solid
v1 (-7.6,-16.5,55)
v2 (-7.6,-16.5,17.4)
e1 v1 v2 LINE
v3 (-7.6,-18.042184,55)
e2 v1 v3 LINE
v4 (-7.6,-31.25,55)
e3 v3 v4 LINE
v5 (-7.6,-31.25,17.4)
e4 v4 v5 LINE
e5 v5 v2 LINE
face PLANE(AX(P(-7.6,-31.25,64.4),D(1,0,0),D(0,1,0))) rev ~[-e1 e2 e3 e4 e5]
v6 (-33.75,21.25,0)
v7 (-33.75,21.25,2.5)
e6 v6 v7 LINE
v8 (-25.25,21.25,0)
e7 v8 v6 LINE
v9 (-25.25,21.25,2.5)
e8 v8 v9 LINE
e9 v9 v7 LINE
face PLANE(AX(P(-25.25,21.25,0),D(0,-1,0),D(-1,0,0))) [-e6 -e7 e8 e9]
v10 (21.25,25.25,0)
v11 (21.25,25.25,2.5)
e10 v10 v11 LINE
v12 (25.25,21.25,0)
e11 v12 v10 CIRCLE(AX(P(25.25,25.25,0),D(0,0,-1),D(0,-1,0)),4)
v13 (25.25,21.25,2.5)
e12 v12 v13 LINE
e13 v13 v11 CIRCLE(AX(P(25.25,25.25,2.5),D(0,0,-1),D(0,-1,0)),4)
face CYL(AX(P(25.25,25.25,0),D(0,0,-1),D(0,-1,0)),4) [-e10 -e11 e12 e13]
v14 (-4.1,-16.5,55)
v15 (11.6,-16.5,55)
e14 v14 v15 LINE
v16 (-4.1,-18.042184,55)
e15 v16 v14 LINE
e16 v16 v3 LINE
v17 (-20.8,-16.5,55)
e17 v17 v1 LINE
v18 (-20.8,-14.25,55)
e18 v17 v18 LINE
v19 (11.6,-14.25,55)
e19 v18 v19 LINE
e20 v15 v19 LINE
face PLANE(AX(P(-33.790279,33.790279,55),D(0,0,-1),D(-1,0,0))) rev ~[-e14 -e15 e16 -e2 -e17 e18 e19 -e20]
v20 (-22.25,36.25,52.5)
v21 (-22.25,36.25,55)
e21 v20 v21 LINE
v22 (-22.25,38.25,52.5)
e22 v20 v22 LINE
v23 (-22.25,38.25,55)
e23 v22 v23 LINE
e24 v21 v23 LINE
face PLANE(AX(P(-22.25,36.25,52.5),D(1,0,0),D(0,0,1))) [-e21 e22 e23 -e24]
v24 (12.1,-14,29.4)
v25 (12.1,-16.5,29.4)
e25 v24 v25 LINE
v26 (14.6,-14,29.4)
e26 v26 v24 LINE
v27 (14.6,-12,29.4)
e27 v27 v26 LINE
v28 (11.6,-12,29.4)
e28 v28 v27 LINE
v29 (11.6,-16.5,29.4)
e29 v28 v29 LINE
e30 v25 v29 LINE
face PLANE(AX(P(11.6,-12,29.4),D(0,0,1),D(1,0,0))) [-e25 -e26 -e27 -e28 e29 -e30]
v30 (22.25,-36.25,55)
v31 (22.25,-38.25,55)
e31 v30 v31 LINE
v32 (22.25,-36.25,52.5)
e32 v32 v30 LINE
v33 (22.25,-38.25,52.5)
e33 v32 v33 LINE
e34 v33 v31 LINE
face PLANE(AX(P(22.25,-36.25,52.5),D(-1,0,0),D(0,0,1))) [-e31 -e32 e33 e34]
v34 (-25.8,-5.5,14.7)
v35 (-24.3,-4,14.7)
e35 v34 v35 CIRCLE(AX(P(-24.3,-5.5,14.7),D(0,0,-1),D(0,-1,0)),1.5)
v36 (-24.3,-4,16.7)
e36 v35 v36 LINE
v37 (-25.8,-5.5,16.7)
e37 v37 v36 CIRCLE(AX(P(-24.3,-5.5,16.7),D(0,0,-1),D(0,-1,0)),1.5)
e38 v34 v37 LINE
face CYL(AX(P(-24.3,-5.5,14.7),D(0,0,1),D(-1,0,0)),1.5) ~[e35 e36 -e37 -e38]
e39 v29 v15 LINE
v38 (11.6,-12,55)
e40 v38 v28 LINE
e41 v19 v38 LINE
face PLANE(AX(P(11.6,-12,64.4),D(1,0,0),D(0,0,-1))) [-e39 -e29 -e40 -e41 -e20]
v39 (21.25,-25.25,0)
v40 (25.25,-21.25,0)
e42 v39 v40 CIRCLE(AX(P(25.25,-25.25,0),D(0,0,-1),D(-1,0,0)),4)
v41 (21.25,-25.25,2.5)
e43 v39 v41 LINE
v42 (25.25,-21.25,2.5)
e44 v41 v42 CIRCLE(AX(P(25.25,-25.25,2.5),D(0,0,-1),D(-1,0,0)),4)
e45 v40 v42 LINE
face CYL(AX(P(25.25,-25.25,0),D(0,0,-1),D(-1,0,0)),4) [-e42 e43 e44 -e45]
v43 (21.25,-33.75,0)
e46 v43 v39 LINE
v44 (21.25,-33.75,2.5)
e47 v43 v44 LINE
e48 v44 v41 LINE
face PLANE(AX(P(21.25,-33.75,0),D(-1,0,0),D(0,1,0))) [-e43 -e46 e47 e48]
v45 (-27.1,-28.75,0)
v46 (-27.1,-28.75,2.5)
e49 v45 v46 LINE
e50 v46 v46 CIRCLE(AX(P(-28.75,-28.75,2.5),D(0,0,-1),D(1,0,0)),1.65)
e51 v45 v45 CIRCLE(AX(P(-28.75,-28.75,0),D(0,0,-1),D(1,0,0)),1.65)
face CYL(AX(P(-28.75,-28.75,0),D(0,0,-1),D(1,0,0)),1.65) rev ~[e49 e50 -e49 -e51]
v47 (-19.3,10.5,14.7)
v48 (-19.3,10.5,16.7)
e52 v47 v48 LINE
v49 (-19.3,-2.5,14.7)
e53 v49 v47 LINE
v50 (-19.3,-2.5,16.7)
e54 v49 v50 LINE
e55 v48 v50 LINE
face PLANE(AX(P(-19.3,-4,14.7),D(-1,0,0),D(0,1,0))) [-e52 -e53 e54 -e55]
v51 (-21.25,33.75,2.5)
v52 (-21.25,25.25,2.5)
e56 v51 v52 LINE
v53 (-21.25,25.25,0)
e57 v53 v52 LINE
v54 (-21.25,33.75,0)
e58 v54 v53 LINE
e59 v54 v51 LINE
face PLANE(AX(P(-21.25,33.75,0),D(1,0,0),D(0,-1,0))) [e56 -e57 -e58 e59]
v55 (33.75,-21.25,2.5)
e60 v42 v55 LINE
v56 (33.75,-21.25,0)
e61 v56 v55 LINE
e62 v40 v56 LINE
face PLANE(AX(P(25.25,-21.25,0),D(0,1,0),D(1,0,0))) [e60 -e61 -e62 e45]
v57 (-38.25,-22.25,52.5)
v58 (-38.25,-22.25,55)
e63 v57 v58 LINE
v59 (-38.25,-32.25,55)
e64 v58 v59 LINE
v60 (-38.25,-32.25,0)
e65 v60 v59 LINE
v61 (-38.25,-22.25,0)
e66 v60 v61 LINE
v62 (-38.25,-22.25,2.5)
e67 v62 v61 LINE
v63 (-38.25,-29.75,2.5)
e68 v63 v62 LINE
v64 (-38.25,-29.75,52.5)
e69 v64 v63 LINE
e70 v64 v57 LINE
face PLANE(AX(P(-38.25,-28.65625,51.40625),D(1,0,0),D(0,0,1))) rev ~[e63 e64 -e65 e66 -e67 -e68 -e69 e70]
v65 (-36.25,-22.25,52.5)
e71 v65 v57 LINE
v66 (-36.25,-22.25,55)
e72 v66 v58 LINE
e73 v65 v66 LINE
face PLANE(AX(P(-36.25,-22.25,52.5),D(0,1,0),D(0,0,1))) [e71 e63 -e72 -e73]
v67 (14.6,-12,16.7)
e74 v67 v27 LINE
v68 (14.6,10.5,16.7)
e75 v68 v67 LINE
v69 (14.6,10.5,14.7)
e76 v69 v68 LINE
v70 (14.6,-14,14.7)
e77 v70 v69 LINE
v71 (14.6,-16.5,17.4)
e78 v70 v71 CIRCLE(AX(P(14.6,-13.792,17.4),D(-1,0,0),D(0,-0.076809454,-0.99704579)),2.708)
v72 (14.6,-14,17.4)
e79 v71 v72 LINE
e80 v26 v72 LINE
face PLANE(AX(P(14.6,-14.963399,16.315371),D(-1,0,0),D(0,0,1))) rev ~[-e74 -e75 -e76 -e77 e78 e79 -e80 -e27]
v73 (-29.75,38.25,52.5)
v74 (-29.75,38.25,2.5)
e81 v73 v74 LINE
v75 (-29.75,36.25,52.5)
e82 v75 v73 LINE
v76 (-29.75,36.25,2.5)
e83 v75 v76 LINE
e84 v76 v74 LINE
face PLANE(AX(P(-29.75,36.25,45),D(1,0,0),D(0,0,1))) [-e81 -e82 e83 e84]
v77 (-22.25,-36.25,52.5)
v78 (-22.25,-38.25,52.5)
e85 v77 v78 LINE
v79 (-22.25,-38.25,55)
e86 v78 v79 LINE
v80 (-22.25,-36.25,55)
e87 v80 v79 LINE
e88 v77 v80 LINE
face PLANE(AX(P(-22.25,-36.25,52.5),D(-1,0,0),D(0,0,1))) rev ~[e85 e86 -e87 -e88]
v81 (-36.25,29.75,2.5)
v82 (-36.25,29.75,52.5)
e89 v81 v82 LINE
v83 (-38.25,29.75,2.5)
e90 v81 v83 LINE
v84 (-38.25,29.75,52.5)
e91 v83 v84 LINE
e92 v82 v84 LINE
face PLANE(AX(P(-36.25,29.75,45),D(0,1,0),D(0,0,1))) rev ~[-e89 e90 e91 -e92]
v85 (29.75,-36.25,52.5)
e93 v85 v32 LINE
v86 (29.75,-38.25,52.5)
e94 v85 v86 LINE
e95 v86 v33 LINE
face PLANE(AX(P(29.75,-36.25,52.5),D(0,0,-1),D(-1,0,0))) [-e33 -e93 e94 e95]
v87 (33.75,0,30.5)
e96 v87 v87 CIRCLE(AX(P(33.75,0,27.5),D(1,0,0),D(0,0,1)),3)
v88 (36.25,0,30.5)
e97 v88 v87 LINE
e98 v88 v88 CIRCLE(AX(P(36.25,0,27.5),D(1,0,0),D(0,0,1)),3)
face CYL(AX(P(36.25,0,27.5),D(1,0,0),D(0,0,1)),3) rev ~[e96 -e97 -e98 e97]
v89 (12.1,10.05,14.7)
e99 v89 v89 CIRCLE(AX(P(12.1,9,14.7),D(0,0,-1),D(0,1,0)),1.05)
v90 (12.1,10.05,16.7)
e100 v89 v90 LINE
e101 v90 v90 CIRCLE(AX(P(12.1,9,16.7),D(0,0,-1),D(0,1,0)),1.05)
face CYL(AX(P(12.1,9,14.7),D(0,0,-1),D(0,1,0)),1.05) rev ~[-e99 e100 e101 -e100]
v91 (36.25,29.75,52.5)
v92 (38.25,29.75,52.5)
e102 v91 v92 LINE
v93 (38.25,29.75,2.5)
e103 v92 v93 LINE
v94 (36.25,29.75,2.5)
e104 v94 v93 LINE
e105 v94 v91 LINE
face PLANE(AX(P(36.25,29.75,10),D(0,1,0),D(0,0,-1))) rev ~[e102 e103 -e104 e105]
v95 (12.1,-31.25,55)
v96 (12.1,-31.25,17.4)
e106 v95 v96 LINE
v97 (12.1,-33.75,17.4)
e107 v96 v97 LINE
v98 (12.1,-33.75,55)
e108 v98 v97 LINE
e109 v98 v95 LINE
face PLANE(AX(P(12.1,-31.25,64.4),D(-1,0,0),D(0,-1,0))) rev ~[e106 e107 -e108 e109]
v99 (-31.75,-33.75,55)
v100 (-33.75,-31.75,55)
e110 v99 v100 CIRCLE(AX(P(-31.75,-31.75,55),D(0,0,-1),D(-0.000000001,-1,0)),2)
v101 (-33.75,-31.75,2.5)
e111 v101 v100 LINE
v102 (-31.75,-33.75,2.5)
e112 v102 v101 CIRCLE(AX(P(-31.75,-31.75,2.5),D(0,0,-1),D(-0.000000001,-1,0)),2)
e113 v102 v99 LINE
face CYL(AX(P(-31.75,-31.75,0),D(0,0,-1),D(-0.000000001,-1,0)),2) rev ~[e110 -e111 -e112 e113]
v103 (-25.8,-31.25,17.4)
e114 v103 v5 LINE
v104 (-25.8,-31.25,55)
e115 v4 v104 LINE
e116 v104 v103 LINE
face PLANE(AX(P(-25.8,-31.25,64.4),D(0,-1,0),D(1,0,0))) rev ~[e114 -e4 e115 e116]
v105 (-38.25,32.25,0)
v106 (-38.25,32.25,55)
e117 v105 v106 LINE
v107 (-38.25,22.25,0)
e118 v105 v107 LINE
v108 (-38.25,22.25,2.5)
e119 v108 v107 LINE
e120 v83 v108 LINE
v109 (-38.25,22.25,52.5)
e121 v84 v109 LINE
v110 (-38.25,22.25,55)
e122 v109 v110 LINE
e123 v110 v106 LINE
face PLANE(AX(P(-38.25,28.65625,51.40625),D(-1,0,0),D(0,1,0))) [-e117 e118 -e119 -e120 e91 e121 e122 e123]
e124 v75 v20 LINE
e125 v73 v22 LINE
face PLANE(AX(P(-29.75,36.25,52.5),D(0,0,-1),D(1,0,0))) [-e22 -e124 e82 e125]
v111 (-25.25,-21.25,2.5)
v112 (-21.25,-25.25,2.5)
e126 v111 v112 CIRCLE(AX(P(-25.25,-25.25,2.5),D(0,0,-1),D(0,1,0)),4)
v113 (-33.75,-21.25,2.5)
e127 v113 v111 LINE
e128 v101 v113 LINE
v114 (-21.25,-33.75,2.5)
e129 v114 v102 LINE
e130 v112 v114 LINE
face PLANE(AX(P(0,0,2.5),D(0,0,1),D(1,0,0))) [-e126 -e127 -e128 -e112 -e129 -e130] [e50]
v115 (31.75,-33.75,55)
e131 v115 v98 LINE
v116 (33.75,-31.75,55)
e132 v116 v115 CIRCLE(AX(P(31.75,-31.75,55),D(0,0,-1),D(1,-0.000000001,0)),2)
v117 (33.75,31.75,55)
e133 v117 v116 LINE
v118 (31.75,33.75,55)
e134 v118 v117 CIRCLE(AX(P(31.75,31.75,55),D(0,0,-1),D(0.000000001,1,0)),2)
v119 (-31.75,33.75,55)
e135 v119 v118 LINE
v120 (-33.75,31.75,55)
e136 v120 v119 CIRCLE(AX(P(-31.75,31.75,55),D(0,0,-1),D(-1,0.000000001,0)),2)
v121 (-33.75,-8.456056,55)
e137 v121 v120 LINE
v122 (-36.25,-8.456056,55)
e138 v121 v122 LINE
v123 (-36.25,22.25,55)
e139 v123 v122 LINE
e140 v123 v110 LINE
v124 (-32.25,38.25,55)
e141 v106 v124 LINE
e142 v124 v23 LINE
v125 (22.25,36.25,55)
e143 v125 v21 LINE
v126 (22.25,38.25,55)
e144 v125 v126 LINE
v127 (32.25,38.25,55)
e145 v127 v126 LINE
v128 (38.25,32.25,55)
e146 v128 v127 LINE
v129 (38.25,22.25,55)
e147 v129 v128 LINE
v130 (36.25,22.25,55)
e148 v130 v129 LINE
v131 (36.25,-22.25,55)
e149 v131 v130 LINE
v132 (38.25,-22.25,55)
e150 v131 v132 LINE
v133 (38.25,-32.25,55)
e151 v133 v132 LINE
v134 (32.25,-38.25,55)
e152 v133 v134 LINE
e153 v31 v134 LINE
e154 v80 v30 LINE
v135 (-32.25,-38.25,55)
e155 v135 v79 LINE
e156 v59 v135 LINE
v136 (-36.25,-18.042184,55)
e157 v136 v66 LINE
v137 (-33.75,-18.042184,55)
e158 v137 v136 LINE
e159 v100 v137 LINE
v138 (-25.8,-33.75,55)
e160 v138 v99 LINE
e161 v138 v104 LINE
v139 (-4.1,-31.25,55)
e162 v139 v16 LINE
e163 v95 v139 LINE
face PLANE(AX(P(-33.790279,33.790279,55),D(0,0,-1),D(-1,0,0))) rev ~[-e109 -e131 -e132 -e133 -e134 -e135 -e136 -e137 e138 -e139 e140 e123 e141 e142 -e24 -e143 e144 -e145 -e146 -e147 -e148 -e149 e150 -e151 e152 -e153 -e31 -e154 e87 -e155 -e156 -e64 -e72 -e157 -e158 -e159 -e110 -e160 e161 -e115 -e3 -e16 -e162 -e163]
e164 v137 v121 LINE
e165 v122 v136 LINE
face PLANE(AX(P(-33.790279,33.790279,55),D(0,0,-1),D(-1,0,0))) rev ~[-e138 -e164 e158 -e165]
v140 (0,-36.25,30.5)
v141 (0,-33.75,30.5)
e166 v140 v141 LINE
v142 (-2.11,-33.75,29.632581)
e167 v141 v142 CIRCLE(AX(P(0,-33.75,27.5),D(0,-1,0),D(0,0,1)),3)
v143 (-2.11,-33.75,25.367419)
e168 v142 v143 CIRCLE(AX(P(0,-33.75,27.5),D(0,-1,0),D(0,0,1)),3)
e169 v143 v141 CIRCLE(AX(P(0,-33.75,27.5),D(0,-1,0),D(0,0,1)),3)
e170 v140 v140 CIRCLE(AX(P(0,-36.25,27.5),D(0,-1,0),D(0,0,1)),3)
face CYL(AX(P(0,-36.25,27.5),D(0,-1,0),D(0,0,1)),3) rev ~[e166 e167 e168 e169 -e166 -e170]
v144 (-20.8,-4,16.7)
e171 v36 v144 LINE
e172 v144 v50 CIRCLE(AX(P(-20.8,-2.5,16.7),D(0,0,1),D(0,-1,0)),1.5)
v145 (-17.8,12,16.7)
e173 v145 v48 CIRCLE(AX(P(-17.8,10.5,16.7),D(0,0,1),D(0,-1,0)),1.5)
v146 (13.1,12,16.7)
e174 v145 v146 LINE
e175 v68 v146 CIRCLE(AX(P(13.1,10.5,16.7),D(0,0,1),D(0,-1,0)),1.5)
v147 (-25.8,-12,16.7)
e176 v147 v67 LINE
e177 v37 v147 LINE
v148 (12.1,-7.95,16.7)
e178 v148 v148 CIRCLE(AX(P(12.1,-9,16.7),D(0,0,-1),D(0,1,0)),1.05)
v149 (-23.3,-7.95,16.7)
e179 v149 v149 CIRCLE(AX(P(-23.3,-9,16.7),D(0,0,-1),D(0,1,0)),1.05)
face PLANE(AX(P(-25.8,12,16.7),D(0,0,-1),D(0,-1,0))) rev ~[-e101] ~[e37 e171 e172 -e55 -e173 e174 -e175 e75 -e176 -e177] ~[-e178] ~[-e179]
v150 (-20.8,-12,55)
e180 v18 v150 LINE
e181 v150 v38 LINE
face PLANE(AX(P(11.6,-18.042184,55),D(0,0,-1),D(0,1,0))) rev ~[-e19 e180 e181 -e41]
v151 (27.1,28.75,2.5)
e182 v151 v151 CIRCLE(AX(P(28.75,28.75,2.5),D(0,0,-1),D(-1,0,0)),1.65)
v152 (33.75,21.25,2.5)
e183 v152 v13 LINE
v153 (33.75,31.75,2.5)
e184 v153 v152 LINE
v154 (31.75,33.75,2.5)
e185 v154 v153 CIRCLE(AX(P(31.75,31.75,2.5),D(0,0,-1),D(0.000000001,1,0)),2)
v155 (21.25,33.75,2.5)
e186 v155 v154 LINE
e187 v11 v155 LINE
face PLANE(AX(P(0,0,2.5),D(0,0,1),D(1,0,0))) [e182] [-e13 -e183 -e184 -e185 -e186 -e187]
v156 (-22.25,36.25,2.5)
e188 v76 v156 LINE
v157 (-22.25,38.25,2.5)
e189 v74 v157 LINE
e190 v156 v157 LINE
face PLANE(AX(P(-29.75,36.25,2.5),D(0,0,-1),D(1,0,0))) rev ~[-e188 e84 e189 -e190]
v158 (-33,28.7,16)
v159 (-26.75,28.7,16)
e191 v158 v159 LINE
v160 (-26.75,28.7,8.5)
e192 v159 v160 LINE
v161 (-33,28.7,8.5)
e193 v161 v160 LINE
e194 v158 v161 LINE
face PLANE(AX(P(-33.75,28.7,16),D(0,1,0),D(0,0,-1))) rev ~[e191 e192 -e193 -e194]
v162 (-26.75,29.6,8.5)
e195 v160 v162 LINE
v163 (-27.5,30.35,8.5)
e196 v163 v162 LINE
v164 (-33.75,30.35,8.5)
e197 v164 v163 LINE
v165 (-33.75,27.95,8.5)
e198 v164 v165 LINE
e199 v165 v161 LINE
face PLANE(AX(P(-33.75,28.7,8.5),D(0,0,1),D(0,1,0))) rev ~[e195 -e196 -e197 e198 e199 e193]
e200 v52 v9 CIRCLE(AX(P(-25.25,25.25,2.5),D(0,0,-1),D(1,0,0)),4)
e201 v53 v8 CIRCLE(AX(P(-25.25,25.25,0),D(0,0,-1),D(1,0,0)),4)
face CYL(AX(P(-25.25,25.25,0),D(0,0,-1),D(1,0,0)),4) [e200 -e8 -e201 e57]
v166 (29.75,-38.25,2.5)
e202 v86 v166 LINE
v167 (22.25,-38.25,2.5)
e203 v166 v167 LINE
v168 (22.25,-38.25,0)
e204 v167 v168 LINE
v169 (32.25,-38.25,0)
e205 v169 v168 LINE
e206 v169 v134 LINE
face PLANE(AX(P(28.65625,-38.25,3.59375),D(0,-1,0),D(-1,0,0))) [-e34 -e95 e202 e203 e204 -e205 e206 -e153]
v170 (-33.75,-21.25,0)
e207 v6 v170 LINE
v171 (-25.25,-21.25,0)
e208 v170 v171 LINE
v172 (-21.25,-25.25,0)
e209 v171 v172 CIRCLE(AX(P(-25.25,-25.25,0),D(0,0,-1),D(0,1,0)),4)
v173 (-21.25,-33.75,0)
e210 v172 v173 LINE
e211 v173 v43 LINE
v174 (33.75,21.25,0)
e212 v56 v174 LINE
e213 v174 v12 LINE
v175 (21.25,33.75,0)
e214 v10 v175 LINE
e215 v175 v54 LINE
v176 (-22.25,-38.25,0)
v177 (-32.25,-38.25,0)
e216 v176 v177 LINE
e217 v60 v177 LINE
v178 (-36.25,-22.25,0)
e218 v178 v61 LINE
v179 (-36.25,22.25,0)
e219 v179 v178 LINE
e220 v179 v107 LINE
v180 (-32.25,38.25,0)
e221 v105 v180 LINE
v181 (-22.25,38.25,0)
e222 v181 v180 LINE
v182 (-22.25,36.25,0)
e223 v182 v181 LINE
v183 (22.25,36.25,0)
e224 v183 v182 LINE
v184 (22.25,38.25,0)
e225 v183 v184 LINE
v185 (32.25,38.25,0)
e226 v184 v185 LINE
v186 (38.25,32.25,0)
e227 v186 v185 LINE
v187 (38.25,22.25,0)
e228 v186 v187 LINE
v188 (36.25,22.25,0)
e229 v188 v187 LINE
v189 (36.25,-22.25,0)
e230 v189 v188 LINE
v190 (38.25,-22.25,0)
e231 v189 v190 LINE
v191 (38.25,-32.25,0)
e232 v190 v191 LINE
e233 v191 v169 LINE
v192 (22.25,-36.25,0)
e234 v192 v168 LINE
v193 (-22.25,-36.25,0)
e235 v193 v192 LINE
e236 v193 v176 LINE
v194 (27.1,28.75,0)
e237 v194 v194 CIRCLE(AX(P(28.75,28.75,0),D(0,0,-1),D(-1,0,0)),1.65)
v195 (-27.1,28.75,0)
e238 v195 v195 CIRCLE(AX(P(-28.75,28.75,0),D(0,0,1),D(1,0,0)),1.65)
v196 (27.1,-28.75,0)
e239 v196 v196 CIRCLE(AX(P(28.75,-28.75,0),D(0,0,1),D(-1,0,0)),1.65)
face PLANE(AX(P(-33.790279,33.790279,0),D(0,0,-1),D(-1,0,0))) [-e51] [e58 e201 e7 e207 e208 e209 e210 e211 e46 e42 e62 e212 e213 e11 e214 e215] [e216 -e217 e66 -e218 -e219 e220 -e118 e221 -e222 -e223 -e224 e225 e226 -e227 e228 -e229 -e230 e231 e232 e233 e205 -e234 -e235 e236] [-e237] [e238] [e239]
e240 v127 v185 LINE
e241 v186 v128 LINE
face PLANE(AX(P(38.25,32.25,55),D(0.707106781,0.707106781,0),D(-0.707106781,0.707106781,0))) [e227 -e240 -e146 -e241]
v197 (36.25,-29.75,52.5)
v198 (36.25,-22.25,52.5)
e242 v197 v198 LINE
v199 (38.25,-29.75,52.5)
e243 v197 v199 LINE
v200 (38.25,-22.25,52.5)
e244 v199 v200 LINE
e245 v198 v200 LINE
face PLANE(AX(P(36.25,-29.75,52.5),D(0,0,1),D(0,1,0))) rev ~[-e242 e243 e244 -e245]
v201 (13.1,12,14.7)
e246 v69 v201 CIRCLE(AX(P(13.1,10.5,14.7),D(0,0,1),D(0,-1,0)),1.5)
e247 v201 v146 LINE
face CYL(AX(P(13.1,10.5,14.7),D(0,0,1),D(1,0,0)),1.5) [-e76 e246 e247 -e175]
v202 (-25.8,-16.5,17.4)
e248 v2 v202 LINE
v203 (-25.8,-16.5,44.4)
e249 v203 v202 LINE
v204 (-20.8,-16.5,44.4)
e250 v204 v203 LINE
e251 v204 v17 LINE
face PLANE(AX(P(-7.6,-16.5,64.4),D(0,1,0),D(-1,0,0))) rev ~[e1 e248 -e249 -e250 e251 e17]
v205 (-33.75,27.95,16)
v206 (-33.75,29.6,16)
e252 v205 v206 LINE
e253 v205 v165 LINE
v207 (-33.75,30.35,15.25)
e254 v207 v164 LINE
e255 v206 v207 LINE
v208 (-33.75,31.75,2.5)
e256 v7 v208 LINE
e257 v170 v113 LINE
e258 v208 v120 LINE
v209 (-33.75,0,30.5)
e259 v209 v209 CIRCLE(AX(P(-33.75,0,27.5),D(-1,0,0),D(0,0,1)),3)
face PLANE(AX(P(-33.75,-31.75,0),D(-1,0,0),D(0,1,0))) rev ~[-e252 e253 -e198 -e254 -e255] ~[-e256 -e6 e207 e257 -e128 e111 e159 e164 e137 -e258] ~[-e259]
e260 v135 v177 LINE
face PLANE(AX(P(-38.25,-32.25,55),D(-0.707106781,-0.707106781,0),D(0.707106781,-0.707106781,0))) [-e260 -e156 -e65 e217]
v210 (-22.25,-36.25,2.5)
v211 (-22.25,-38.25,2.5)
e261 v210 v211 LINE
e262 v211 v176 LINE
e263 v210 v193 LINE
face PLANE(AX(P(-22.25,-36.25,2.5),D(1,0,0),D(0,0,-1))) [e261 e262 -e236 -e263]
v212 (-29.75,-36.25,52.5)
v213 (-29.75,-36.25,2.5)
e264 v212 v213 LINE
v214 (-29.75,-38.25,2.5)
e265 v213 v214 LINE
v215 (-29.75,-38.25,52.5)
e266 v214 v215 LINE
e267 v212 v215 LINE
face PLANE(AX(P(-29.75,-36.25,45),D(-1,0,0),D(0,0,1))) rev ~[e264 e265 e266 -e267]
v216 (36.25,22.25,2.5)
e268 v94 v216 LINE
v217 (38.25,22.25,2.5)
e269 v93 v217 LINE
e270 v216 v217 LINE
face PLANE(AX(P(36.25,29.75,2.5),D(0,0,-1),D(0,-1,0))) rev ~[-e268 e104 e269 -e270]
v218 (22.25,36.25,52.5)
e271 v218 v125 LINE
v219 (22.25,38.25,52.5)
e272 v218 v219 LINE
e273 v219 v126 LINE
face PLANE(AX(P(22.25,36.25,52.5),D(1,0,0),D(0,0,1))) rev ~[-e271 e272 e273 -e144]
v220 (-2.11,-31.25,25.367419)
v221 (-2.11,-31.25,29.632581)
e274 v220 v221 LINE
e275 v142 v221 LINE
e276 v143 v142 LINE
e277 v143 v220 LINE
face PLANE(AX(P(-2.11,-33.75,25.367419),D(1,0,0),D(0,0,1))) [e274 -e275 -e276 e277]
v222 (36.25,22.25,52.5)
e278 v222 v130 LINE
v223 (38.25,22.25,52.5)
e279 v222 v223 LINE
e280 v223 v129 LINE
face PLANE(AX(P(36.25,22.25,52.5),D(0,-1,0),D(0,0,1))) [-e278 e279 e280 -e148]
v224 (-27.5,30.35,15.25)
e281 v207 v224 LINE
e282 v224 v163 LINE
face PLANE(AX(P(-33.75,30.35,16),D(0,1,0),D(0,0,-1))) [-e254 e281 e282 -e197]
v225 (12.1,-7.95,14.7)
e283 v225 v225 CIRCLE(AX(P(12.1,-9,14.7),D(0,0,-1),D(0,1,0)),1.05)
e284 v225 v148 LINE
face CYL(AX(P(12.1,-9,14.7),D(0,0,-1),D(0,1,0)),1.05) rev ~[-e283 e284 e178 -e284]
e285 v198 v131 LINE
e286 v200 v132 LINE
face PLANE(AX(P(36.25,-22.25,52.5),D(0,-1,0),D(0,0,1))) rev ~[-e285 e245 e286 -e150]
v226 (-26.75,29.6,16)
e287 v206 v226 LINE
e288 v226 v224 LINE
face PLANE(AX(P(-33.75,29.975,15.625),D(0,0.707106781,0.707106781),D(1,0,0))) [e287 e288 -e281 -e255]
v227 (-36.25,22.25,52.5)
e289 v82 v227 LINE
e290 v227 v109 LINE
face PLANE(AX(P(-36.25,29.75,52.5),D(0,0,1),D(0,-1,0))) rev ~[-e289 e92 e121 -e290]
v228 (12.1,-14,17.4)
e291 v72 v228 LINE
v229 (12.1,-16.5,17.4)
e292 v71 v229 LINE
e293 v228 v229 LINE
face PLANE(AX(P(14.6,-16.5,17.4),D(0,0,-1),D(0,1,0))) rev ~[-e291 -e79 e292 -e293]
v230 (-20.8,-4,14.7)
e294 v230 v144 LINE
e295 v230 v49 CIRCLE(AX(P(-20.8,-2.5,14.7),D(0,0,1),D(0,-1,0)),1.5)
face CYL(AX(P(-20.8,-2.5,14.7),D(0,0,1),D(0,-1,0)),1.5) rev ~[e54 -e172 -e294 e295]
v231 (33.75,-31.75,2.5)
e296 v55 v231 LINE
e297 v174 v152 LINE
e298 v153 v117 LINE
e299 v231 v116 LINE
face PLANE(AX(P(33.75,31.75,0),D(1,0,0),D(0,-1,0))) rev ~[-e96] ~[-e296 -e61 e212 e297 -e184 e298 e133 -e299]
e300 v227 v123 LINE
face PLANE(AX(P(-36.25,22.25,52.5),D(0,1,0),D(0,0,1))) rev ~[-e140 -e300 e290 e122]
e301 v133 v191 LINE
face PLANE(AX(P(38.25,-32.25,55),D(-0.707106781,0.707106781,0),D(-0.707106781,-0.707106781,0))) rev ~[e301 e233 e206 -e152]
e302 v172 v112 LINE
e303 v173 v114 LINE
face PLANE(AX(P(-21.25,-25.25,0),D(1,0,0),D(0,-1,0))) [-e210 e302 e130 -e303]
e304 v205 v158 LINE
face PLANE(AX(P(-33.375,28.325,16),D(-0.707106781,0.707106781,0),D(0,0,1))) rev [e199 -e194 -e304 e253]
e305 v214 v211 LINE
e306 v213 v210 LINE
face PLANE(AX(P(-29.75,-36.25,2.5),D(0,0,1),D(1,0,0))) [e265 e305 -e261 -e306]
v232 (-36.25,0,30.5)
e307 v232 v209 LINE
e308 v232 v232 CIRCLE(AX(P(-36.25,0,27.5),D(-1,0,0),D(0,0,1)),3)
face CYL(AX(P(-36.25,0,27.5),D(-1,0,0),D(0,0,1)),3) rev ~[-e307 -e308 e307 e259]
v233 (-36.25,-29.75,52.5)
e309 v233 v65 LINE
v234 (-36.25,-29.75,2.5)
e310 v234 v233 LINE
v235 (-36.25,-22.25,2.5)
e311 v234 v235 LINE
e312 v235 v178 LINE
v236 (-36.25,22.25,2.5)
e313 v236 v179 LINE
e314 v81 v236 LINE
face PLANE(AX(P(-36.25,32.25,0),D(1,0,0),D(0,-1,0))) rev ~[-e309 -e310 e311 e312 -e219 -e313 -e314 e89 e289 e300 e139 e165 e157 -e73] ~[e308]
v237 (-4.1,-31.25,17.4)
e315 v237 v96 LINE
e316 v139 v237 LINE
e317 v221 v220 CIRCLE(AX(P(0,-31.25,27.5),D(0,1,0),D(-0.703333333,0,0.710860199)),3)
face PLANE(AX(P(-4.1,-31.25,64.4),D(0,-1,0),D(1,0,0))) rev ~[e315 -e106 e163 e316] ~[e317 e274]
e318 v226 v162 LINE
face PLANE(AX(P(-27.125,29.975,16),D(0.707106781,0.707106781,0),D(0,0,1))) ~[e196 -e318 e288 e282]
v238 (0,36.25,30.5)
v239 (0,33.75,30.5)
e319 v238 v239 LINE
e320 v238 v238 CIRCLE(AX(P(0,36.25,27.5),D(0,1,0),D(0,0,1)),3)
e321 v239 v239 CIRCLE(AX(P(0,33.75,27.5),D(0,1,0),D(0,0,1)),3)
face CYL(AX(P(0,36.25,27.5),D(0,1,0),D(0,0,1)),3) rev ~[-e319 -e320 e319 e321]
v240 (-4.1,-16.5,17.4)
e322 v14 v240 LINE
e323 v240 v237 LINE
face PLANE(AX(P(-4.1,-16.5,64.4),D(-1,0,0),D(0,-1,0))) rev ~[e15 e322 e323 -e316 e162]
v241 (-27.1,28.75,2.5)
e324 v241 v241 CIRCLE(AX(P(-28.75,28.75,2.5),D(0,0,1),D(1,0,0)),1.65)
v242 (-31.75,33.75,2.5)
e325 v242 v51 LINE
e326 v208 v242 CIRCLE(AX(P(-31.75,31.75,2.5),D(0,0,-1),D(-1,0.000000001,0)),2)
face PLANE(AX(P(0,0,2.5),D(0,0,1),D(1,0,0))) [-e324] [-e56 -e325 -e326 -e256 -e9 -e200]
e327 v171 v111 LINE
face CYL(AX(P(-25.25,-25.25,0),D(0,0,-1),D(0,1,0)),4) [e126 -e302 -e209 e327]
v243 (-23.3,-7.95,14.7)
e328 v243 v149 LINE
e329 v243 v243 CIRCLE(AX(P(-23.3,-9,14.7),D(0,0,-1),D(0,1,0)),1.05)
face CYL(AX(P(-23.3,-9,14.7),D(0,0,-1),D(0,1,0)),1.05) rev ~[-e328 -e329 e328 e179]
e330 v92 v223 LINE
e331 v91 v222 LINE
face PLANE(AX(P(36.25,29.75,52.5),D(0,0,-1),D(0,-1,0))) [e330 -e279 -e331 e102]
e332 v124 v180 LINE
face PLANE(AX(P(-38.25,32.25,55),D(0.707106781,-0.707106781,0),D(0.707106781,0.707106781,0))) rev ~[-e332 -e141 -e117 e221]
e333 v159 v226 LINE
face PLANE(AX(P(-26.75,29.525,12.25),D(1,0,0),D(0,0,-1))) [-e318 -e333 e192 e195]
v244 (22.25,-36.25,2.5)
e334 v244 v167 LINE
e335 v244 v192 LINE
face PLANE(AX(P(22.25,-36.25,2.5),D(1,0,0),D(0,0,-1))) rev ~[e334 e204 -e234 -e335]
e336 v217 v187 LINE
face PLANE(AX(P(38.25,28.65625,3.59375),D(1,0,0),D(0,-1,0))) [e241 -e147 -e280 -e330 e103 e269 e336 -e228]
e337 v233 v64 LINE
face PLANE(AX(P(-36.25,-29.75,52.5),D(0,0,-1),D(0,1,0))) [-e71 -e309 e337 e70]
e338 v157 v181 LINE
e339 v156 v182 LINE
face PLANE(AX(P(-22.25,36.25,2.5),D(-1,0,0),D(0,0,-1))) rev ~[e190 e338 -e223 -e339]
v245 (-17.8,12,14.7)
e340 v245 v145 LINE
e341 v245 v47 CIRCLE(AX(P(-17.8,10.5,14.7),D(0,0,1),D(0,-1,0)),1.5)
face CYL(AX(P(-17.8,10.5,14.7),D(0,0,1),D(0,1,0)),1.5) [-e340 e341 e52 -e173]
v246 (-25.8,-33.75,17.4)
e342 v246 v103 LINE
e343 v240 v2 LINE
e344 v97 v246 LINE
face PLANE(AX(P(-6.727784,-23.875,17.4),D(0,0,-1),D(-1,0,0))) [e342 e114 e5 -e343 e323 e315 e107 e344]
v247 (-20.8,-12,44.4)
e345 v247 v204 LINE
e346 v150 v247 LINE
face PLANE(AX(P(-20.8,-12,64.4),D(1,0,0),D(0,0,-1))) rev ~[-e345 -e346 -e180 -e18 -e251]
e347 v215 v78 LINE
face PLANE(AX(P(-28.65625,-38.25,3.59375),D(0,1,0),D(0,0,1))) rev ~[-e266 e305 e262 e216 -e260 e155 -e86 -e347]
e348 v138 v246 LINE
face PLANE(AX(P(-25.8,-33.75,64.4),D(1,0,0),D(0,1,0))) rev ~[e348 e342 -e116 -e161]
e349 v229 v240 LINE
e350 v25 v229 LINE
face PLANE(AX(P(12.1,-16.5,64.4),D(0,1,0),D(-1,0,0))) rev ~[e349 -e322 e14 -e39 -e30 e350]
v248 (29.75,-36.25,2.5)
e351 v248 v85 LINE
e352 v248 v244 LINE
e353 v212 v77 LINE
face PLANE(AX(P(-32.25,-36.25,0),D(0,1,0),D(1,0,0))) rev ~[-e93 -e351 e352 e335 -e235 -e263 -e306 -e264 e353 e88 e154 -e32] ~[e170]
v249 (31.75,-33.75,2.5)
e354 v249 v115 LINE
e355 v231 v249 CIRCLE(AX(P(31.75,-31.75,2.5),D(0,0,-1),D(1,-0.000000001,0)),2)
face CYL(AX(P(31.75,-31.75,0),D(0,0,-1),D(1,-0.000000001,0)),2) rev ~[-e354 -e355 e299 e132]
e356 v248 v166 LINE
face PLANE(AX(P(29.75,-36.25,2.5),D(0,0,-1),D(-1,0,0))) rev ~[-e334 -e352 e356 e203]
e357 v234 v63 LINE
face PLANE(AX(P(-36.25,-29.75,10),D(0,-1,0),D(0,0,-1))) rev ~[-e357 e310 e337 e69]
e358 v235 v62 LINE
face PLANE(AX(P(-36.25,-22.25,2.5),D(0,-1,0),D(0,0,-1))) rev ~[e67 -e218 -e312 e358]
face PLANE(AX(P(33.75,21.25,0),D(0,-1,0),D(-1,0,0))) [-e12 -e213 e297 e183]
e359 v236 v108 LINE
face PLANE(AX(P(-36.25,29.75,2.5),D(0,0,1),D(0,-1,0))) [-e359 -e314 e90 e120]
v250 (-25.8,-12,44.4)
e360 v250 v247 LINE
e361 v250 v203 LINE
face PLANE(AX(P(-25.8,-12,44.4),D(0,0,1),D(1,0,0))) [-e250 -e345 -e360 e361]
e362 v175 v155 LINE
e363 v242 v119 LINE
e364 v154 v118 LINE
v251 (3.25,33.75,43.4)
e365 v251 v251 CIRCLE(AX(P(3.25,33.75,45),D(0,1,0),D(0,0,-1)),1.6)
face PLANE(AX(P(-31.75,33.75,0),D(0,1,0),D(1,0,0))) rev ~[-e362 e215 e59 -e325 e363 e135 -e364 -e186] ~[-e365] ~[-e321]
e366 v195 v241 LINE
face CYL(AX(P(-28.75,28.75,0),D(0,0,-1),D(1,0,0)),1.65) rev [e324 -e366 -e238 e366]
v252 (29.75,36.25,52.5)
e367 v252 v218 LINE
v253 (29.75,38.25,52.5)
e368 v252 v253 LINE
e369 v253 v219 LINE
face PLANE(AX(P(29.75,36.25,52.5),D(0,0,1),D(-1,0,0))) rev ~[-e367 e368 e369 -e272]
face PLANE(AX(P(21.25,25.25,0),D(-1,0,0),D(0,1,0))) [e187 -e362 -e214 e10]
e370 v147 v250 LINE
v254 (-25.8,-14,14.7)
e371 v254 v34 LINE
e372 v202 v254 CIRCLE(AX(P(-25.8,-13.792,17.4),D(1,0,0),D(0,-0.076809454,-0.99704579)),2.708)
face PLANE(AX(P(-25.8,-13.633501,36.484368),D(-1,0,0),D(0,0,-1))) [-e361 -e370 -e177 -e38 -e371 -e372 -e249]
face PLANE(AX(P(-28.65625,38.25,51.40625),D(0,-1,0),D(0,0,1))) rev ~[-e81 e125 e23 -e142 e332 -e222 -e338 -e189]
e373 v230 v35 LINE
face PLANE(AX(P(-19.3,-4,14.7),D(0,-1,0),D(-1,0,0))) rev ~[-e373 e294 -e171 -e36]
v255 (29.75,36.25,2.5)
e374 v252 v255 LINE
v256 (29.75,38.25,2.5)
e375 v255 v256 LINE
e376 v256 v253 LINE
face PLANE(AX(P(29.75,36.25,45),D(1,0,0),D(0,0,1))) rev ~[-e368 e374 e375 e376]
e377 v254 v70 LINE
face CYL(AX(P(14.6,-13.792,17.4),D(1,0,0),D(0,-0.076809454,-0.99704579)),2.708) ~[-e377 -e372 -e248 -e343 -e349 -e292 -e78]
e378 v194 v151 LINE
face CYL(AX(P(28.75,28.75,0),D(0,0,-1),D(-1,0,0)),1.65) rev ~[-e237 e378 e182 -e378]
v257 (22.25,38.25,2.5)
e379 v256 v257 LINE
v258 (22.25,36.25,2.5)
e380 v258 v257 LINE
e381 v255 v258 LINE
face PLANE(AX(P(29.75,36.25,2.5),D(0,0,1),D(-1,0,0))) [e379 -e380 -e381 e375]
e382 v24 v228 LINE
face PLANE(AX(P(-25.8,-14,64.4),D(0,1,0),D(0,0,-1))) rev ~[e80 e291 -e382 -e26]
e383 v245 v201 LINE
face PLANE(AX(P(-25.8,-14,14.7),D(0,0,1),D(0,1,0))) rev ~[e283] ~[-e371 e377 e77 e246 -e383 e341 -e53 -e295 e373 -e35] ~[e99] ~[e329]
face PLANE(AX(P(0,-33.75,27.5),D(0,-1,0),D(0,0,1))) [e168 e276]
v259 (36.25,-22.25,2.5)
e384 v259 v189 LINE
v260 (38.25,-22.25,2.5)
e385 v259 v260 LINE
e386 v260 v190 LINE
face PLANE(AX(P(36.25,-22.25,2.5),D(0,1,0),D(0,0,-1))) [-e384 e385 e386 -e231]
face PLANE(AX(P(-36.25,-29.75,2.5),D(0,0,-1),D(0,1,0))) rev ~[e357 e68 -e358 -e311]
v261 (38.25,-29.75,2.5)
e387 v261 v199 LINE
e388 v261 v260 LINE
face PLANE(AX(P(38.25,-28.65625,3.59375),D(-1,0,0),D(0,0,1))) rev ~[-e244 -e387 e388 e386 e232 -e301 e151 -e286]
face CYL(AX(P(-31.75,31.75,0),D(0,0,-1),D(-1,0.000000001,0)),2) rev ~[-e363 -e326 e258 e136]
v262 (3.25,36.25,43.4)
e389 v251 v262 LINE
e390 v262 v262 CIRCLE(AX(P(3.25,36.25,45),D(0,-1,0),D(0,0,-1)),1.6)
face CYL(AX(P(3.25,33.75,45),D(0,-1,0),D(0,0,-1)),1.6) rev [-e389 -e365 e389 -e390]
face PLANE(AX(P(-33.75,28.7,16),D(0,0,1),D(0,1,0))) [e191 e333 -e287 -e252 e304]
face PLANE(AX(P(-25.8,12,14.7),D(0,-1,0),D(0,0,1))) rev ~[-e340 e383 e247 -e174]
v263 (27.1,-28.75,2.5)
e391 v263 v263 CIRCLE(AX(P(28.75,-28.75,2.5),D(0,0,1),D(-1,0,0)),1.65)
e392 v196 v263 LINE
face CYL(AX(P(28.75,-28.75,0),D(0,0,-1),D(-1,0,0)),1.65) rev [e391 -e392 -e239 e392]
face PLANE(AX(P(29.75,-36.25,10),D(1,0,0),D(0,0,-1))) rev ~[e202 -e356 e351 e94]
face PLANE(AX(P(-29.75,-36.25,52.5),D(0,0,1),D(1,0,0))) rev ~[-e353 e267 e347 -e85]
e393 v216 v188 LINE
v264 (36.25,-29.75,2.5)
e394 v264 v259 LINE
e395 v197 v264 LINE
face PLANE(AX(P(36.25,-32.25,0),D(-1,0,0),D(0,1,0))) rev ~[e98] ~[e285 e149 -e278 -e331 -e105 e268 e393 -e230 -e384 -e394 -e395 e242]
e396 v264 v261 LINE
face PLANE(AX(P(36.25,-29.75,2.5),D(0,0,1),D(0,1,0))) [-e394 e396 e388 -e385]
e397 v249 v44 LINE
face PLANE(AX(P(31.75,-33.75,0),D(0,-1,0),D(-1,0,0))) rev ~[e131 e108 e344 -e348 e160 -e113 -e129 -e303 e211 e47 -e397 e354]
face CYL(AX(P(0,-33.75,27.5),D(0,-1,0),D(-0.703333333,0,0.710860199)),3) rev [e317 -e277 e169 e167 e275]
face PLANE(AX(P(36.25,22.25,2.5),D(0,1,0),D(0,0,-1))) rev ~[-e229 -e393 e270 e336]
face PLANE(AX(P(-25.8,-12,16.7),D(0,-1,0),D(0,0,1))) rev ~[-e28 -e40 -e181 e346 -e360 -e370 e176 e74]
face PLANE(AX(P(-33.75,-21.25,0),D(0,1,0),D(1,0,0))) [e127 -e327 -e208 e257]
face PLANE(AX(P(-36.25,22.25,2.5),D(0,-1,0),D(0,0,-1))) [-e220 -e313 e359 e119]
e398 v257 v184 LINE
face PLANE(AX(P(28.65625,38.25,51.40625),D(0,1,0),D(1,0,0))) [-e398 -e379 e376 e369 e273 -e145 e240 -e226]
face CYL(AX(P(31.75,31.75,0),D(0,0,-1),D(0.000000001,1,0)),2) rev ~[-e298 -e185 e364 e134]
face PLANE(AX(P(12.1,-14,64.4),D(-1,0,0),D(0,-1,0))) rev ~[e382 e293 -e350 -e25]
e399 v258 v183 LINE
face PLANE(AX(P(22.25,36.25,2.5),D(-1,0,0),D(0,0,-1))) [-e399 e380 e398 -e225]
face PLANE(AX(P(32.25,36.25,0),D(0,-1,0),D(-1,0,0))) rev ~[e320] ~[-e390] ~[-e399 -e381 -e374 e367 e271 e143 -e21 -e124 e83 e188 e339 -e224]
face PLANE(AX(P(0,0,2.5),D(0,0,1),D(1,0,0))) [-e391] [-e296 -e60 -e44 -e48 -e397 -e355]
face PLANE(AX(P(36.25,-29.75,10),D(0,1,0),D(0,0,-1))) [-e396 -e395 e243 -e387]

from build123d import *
from build123d.topology import SkipClean

# Parameters (mm, degrees)
BOSS_EXTRUDE1_DEPTH            = 55
SKETCH2_W                      = 67.5
SKETCH2_H                      = 67.5
BOSS_EXTRUDE2_DEPTH            = 2.5
CUT_EXTRUDE2_REACH             = 77.187
SKETCH4_R                      = 1.65
MIRROR2_COPY_1_REACH           = 77.187
MIRROR2_COPY_1_SKETCH_R        = 1.65
BOSS_EXTRUDE3_DEPTH            = 14.6
BOSS_EXTRUDE3_DEPTH_BACK       = 25.8
BOSS_EXTRUDE4_DEPTH            = 47
SKETCH7_W                      = 37.9
SKETCH7_H                      = 19.5
CUT_EXTRUDE3_DEPTH             = 9.4
BOSS_EXTRUDE7_DEPTH            = 2
CUT_EXTRUDE6_REACH             = 85.213
CUT_EXTRUDE6_DIRECTION_2_DEPTH = 84.213490493
CUT_EXTRUDE8_DEPTH             = 104.526192338
CUT_EXTRUDE8_DEPTH_BACK        = 2.5
SKETCH15_R                     = 1.6
SKETCH16_W                     = 7.5
SKETCH16_H                     = 1.65
BOSS_EXTRUDE8_DEPTH            = 7
CUT_EXTRUDE9_REACH             = 74.438
SKETCH17_R                     = 1.05
SKETCH19_R                     = 3
CUT_EXTRUDE10_DEPTH            = 2.5
BOSS_EXTRUDE9_DEPTH            = 2
CIRPATTERN1_COUNT              = 4
CIRPATTERN2_COUNT              = 4
CUT_EXTRUDE11_DEPTH            = 2.5
BOSS_EXTRUDE12_DEPTH           = 55
CUT_EXTRUDE12_REACH            = 75.459
SKETCH23_W                     = 6.5
SKETCH23_H                     = 16
BOSS_EXTRUDE13_REACH           = 93.671
FILLET2_R                      = 1.5
CHAMFER1_SIZE                  = 0.75
CUT_EXTRUDE13_REACH            = 92.197
SKETCH25_W                     = 3
SKETCH25_H                     = 35
SKETCH25_W_2                   = 5
SKETCH25_H_2                   = 20
FILLET3_R                      = 1.5
SKETCH26_W                     = 12.543976605
SKETCH26_H                     = 9.586128164
CUT_EXTRUDE14_DEPTH            = 90.974690886


with BuildPart() as part:
    # Sketch1 → Boss-Extrude1 (new body)
    with BuildSketch(Plane.XY):
        with BuildLine():
            Line((-36.25, 32.25), (-36.25, -32.25))
            ThreePointArc((-36.25, -32.25), (-35.078427125, -35.078427125), (-32.25, -36.25))
            Line((-32.25, -36.25), (32.25, -36.25))
            ThreePointArc((32.25, -36.25), (35.078427125, -35.078427125), (36.25, -32.25))
            Line((36.25, -32.25), (36.25, 32.25))
            ThreePointArc((36.25, 32.25), (35.078427125, 35.078427125), (32.25, 36.25))
            Line((32.25, 36.25), (-32.25, 36.25))
            ThreePointArc((-32.25, 36.25), (-35.078427125, 35.078427125), (-36.25, 32.25))
        make_face()
        with BuildLine():
            Line((-31.75, 33.75), (31.75, 33.75))
            ThreePointArc((31.75, 33.75), (33.164213562, 33.164213562), (33.75, 31.75))
            Line((33.75, 31.75), (33.75, -31.75))
            ThreePointArc((33.75, -31.75), (33.164213562, -33.164213562), (31.75, -33.75))
            Line((31.75, -33.75), (-31.75, -33.75))
            ThreePointArc((-31.75, -33.75), (-33.164213562, -33.164213562), (-33.75, -31.75))
            Line((-33.75, -31.75), (-33.75, 31.75))
            ThreePointArc((-33.75, 31.75), (-33.164213562, 33.164213562), (-31.75, 33.75))
        make_face(mode=Mode.SUBTRACT)
    extrude(amount=BOSS_EXTRUDE1_DEPTH)

    # Sketch2 → Boss-Extrude2 (add)
    with BuildSketch(Plane.XY):
        Rectangle(SKETCH2_W, SKETCH2_H)
    extrude(amount=BOSS_EXTRUDE2_DEPTH)

    # Sketch4 → Cut-Extrude2 (cut, up to next)
    with BuildSketch(Plane(origin=(0, 0, 0), x_dir=(-1, 0, 0), z_dir=(0, 0, -1)), mode=Mode.PRIVATE) as cut_extrude2_sk1:
        with Locations((-28.75, 28.75)):
            Circle(SKETCH4_R)
    cut_extrude2_tool1 = extrude(cut_extrude2_sk1.sketch, amount=-CUT_EXTRUDE2_REACH, mode=Mode.PRIVATE) & part.part
    cut_extrude2 = cut_extrude2_tool1.solids().sort_by_distance((28.75, 28.75, 0))[0]
    add(cut_extrude2, mode=Mode.SUBTRACT)

    # Mirror1: Cut-Extrude2 across plane
    add(cut_extrude2.mirror(Plane(origin=(0, 0, 0), x_dir=(0, 0, 1), z_dir=(1, 0, 0))), mode=Mode.SUBTRACT)

    # Mirror2: Cut-Extrude2 across plane
    add(cut_extrude2.mirror(Plane.ZX), mode=Mode.SUBTRACT)

    # Mirror2 copy 1 sketch → Mirror2 copy 1 (cut, up to next)
    with BuildSketch(Plane(origin=(0, 0, 0), x_dir=(1, 0, 0), z_dir=(0, 0, -1)), mode=Mode.PRIVATE) as mirror2_copy_1_sk1:
        with Locations((-28.75, 28.75)):
            Circle(MIRROR2_COPY_1_SKETCH_R)
    mirror2_copy_1_tool1 = extrude(mirror2_copy_1_sk1.sketch, amount=-MIRROR2_COPY_1_REACH, mode=Mode.PRIVATE) & part.part
    add(mirror2_copy_1_tool1.solids().sort_by_distance((-28.75, -28.75, 0))[0], mode=Mode.SUBTRACT)



with BuildPart() as body_2:
    # Sketch5 → Boss-Extrude3 (new, two sides: drawn at the far end of the back side and taken through both)
    with BuildSketch(Plane(origin=(0, 0, 0), x_dir=(0, 0, -1), z_dir=(1, 0, 0)).offset(-BOSS_EXTRUDE3_DEPTH_BACK)):
        Polygon((-16.7, 12), (-16.7, -12), (-62.4, -12), (-64.4, -12), (-64.4, -14), (-14.7, -14), (-14.7, 12), align=None)
    extrude(amount=BOSS_EXTRUDE3_DEPTH + BOSS_EXTRUDE3_DEPTH_BACK)


with BuildPart() as part_1:
    add(part.part)

    add(body_2.part)  # Boss-Extrude4 merges body 2
    # Sketch6 → Boss-Extrude4 (add)
    with BuildSketch(Plane.XY.offset(64.4)):
        Polygon((-25.8, -14), (12.1, -14), (12.1, -16.5), (-4.1, -16.5), (-4.1, -31.25), (12.1, -31.25), (12.1, -33.75), (-25.8, -33.75), (-25.8, -31.25), (-7.6, -31.25), (-7.6, -16.5), (-25.8, -16.5), align=None)
    extrude(amount=-BOSS_EXTRUDE4_DEPTH)

    # Sketch7 → Cut-Extrude3 (cut)
    with BuildSketch(Plane.XY.offset(64.4)):
        with Locations((-6.85, -24)):
            Rectangle(SKETCH7_W, SKETCH7_H)
    extrude(amount=-CUT_EXTRUDE3_DEPTH, mode=Mode.SUBTRACT)

    # Sketch12 → Boss-Extrude7 (add)
    with BuildSketch(Plane(origin=(0, 36.25, 0), x_dir=(1, 0, 0), z_dir=(0, 1, 0))):
        Polygon((29.75, -55), (32.25, -55), (32.25, -52.5), (32.25, -45), (29.75, -45), (29.75, -52.5), (22.25, -52.5), (22.25, -55), align=None)
        Polygon((-32.25, 0), (-32.25, -10), (-29.75, -10), (-29.75, -2.5), (-22.25, -2.5), (-22.25, 0), align=None)
    boss_extrude7 = extrude(amount=BOSS_EXTRUDE7_DEPTH)

    # Sketch13 → Cut-Extrude6 (cut, up to next)
    with BuildSketch(Plane(origin=(0, 0, 0), x_dir=(-1, 0, 0), z_dir=(0, 0, -1)), mode=Mode.PRIVATE) as cut_extrude6_sk1:
        with BuildLine():
            Line((-33.75, 21.25), (-25.25, 21.25))
            ThreePointArc((-25.25, 21.25), (-22.421572875, 22.421572875), (-21.25, 25.25))
            Line((-21.25, 25.25), (-21.25, 33.75))
            Line((-21.25, 33.75), (21.25, 33.75))
            Line((21.25, 33.75), (21.25, 25.25))
            ThreePointArc((21.25, 25.25), (22.421572875, 22.421572875), (25.25, 21.25))
            Line((25.25, 21.25), (33.75, 21.25))
            Line((33.75, 21.25), (33.75, -21.25))
            Line((33.75, -21.25), (25.25, -21.25))
            ThreePointArc((25.25, -21.25), (22.421572875, -22.421572875), (21.25, -25.25))
            Line((21.25, -25.25), (21.25, -33.75))
            Line((21.25, -33.75), (-21.25, -33.75))
            Line((-21.25, -33.75), (-21.25, -25.25))
            ThreePointArc((-21.25, -25.25), (-22.421572875, -22.421572875), (-25.25, -21.25))
            Line((-25.25, -21.25), (-33.75, -21.25))
            Line((-33.75, -21.25), (-33.75, 21.25))
        make_face()
    cut_extrude6_tool1 = extrude(cut_extrude6_sk1.sketch, amount=-CUT_EXTRUDE6_REACH, mode=Mode.PRIVATE) & part_1.part
    add(cut_extrude6_tool1.solids().sort_by_distance((0, 0, 0))[0], mode=Mode.SUBTRACT)

    # Sketch13 → Cut-Extrude6 direction 2 (cut)
    with BuildSketch(Plane(origin=(0, 0, 0), x_dir=(-1, 0, 0), z_dir=(0, 0, -1))):
        with BuildLine():
            Line((-33.75, 21.25), (-25.25, 21.25))
            ThreePointArc((-25.25, 21.25), (-22.421572875, 22.421572875), (-21.25, 25.25))
            Line((-21.25, 25.25), (-21.25, 33.75))
            Line((-21.25, 33.75), (21.25, 33.75))
            Line((21.25, 33.75), (21.25, 25.25))
            ThreePointArc((21.25, 25.25), (22.421572875, 22.421572875), (25.25, 21.25))
            Line((25.25, 21.25), (33.75, 21.25))
            Line((33.75, 21.25), (33.75, -21.25))
            Line((33.75, -21.25), (25.25, -21.25))
            ThreePointArc((25.25, -21.25), (22.421572875, -22.421572875), (21.25, -25.25))
            Line((21.25, -25.25), (21.25, -33.75))
            Line((21.25, -33.75), (-21.25, -33.75))
            Line((-21.25, -33.75), (-21.25, -25.25))
            ThreePointArc((-21.25, -25.25), (-22.421572875, -22.421572875), (-25.25, -21.25))
            Line((-25.25, -21.25), (-33.75, -21.25))
            Line((-33.75, -21.25), (-33.75, 21.25))
        make_face()
    extrude(amount=CUT_EXTRUDE6_DIRECTION_2_DEPTH, mode=Mode.SUBTRACT)

    # Sketch15 → Cut-Extrude8 (cut, two sides: drawn at the far end of the back side and taken through both)
    with BuildSketch(Plane(origin=(0, 36.25, 0), x_dir=(1, 0, 0), z_dir=(0, 1, 0)).offset(-CUT_EXTRUDE8_DEPTH_BACK)):
        with Locations(Location((3.25, -45, 0), (0, 0, 90))):
            Circle(SKETCH15_R)
    extrude(amount=CUT_EXTRUDE8_DEPTH + CUT_EXTRUDE8_DEPTH_BACK, mode=Mode.SUBTRACT)

    # Sketch16 → Boss-Extrude8 (add)
    with BuildSketch(Plane(origin=(-33.75, 0, 0), x_dir=(0, 0, -1), z_dir=(1, 0, 0))):
        with Locations((-12.25, 29.525)):
            Rectangle(SKETCH16_W, SKETCH16_H)
    extrude(amount=BOSS_EXTRUDE8_DEPTH)

    # Sketch17 → Cut-Extrude9 (cut, up to next)
    with BuildSketch(Plane(origin=(0, 0, 14.7), x_dir=(-1, 0, 0), z_dir=(0, 0, -1)), mode=Mode.PRIVATE) as cut_extrude9_sk1:
        with Locations(Location((-12.1, 9, 0), (0, 0, 90))):
            Circle(SKETCH17_R)
    cut_extrude9_tool1 = extrude(cut_extrude9_sk1.sketch, amount=-CUT_EXTRUDE9_REACH, mode=Mode.PRIVATE) & part_1.part
    # Sketch17 → Cut-Extrude9 (cut, up to next)
    with BuildSketch(Plane(origin=(0, 0, 14.7), x_dir=(-1, 0, 0), z_dir=(0, 0, -1)), mode=Mode.PRIVATE) as cut_extrude9_sk2:
        with Locations(Location((-12.1, -9, 0), (0, 0, 90))):
            Circle(SKETCH17_R)
    cut_extrude9_tool2 = extrude(cut_extrude9_sk2.sketch, amount=-CUT_EXTRUDE9_REACH, mode=Mode.PRIVATE) & part_1.part
    # Sketch17 → Cut-Extrude9 (cut, up to next)
    with BuildSketch(Plane(origin=(0, 0, 14.7), x_dir=(-1, 0, 0), z_dir=(0, 0, -1)), mode=Mode.PRIVATE) as cut_extrude9_sk3:
        with Locations(Location((23.3, -9, 0), (0, 0, 90))):
            Circle(SKETCH17_R)
    cut_extrude9_tool3 = extrude(cut_extrude9_sk3.sketch, amount=-CUT_EXTRUDE9_REACH, mode=Mode.PRIVATE) & part_1.part
    add(cut_extrude9_tool1.solids().sort_by_distance((12.1, 9, 14.7))[0], mode=Mode.SUBTRACT)
    add(cut_extrude9_tool2.solids().sort_by_distance((12.1, -9, 14.7))[0], mode=Mode.SUBTRACT)
    add(cut_extrude9_tool3.solids().sort_by_distance((-23.3, -9, 14.7))[0], mode=Mode.SUBTRACT)

    # Sketch19 → Cut-Extrude10 (cut)
    with BuildSketch(Plane(origin=(0, 36.25, 0), x_dir=(1, 0, 0), z_dir=(0, 1, 0))):
        with Locations(Location((0, -27.5, 0), (0, 0, 270))):
            Circle(SKETCH19_R)
    cut_extrude10 = extrude(amount=-CUT_EXTRUDE10_DEPTH, mode=Mode.SUBTRACT)

    # Sketch20 → Boss-Extrude9 (add)
    with BuildSketch(Plane(origin=(36.25, 0, -36.25), x_dir=(0, 0, 1), z_dir=(-1, 0, 0))):
        Polygon((91.25, 32.25), (81.25, 32.25), (81.25, 29.75), (88.75, 29.75), (88.75, 22.25), (91.25, 22.25), align=None)
        Polygon((36.25, -22.25), (36.25, -32.25), (46.25, -32.25), (46.25, -29.75), (38.75, -29.75), (38.75, -22.25), align=None)
    boss_extrude9 = extrude(amount=-BOSS_EXTRUDE9_DEPTH)

    # CirPattern1: Boss-Extrude7, Cut-Extrude10 ×4 about axis
    cirpattern1_axis = Axis((0, 0, 0), (0, 0, 1))
    add([boss_extrude7.rotate(cirpattern1_axis, i * 360 / CIRPATTERN1_COUNT) for i in range(1, CIRPATTERN1_COUNT)])
    add([cut_extrude10.rotate(cirpattern1_axis, i * 360 / CIRPATTERN1_COUNT) for i in range(1, CIRPATTERN1_COUNT)], mode=Mode.SUBTRACT)

    # CirPattern2: Boss-Extrude9 ×4 about axis
    cirpattern2_axis = Axis((0, 0, 0), (0, 0, 1))
    for i in range(1, CIRPATTERN2_COUNT):
        add(boss_extrude9.rotate(cirpattern2_axis, i * 360 / CIRPATTERN2_COUNT))

    # Sketch21 → Cut-Extrude11 (cut)
    with BuildSketch(Plane.XZ.offset(33.75)):
        with BuildLine():
            Line((-2.11, 25.367419404), (-2.11, 29.632580596))
            ThreePointArc((-2.11, 29.632580596), (3, 27.5), (-2.11, 25.367419404))
        make_face()
    extrude(amount=-CUT_EXTRUDE11_DEPTH, mode=Mode.SUBTRACT)

    # Sketch22 → Boss-Extrude12 (add, through all)
    with BuildSketch(Plane.XY.offset(55)):
        Polygon((-38.25, 32.25), (-32.25, 38.25), (-29.75, 38.25), (-29.75, 33.75), (-33.75, 33.75), (-33.75, 29.75), (-38.25, 29.75), align=None)
        Polygon((33.75, 33.75), (33.75, 29.75), (38.25, 29.75), (38.25, 32.25), (32.25, 38.25), (29.75, 38.25), (29.75, 33.75), align=None)
        Polygon((38.25, -32.25), (32.25, -38.25), (29.75, -38.25), (29.75, -33.75), (33.75, -33.75), (33.75, -29.75), (38.25, -29.75), align=None)
        Polygon((-33.75, -33.75), (-33.75, -29.75), (-38.25, -29.75), (-38.25, -32.25), (-32.25, -38.25), (-29.75, -38.25), (-29.75, -33.75), align=None)
    extrude(amount=-BOSS_EXTRUDE12_DEPTH)

    # Sketch23 → Cut-Extrude12 (cut, up to next)
    with BuildSketch(Plane(origin=(0, 0, 14.7), x_dir=(-1, 0, 0), z_dir=(0, 0, -1)), mode=Mode.PRIVATE) as cut_extrude12_sk1:
        with Locations((22.55, 4)):
            Rectangle(SKETCH23_W, SKETCH23_H)
    cut_extrude12_tool1 = extrude(cut_extrude12_sk1.sketch, amount=-CUT_EXTRUDE12_REACH, mode=Mode.PRIVATE) & part_1.part
    add(cut_extrude12_tool1.solids().sort_by_distance((-22.55, 4, 14.7))[0], mode=Mode.SUBTRACT)

    # Boss-Extrude13: up to this face of the body (flat: up to its plane)
    boss_extrude13_end = Plane(part_1.part.faces().sort_by_distance((-25.8, -13.63350059, 36.484368359))[0])
    # Sketch24 → Boss-Extrude13 (add, up to the picked face)
    with BuildSketch(Plane(origin=(14.6, 0, 0), x_dir=(0, 0, -1), z_dir=(1, 0, 0)), mode=Mode.PRIVATE) as boss_extrude13_sk1:
        with BuildLine():
            Line((-17.4, -16.5), (-17.4, -13.792))
            Line((-17.4, -13.792), (-14.7, -14))
            ThreePointArc((-14.7, -14), (-15.560163051, -15.779023905), (-17.4, -16.5))
        make_face()
    boss_extrude13_tool1 = split(extrude(boss_extrude13_sk1.sketch, amount=-BOSS_EXTRUDE13_REACH, mode=Mode.PRIVATE), bisect_by=boss_extrude13_end, keep=Keep.BOTH, mode=Mode.PRIVATE)
    add(boss_extrude13_tool1.solids().sort_by(Axis((14.6, -14.996891, 16.28436), (-1, 0, 0)))[0])

    # Fillet2
    fillet2_edges = [part_1.edges().sort_by_distance(p)[0] for p in [
        (14.6, 12, 15.7),
    ]]
    fillet(fillet2_edges, radius=FILLET2_R)

    # Chamfer1
    chamfer1_edges = [part_1.edges().sort_by_distance(p)[0] for p in [
        (-33.75, 28.7, 12.25),
        (-30.25, 30.35, 16),
        (-26.75, 30.35, 12.25),
    ]]
    chamfer(chamfer1_edges, length=CHAMFER1_SIZE)

    # Sketch25 → Cut-Extrude13 (cut, up to next)
    with BuildSketch(Plane(origin=(0, -12, 0), x_dir=(1, 0, 0), z_dir=(0, 1, 0)), mode=Mode.PRIVATE) as cut_extrude13_sk1:
        with Locations((13.1, -46.9)):
            Rectangle(SKETCH25_W, SKETCH25_H)
    cut_extrude13_tool1 = extrude(cut_extrude13_sk1.sketch, amount=-CUT_EXTRUDE13_REACH, mode=Mode.PRIVATE) & part_1.part
    # Sketch25 → Cut-Extrude13 (cut, up to next)
    with BuildSketch(Plane(origin=(0, -12, 0), x_dir=(1, 0, 0), z_dir=(0, 1, 0)), mode=Mode.PRIVATE) as cut_extrude13_sk2:
        with Locations((-23.3, -54.4)):
            Rectangle(SKETCH25_W_2, SKETCH25_H_2)
    cut_extrude13_tool2 = extrude(cut_extrude13_sk2.sketch, amount=-CUT_EXTRUDE13_REACH, mode=Mode.PRIVATE) & part_1.part
    add(cut_extrude13_tool1.solids().sort_by_distance((13.1, -12, 46.9))[0], mode=Mode.SUBTRACT)
    add(cut_extrude13_tool2.solids().sort_by_distance((-23.3, -12, 54.4))[0], mode=Mode.SUBTRACT)

    # Fillet3
    fillet3_edges = [part_1.edges().sort_by_distance(p)[0] for p in [
        (-19.3, -4, 15.7),
        (-19.3, 12, 15.7),
        (-25.8, -4, 15.7),
    ]]
    fillet(fillet3_edges, radius=FILLET3_R)

    # Sketch26 → Cut-Extrude14 (cut, through all)
    with SkipClean():  # the faces are left unmerged after this step: merging them gives an invalid solid
        with BuildSketch(Plane(origin=(11.6, 0, 0), x_dir=(0, 0, -1), z_dir=(1, 0, 0))):
            with Locations((-61.271988302, -13.249120227)):
                Rectangle(SKETCH26_W, SKETCH26_H)
        extrude(amount=-CUT_EXTRUDE14_DEPTH, mode=Mode.SUBTRACT)


solid = part_1.part
